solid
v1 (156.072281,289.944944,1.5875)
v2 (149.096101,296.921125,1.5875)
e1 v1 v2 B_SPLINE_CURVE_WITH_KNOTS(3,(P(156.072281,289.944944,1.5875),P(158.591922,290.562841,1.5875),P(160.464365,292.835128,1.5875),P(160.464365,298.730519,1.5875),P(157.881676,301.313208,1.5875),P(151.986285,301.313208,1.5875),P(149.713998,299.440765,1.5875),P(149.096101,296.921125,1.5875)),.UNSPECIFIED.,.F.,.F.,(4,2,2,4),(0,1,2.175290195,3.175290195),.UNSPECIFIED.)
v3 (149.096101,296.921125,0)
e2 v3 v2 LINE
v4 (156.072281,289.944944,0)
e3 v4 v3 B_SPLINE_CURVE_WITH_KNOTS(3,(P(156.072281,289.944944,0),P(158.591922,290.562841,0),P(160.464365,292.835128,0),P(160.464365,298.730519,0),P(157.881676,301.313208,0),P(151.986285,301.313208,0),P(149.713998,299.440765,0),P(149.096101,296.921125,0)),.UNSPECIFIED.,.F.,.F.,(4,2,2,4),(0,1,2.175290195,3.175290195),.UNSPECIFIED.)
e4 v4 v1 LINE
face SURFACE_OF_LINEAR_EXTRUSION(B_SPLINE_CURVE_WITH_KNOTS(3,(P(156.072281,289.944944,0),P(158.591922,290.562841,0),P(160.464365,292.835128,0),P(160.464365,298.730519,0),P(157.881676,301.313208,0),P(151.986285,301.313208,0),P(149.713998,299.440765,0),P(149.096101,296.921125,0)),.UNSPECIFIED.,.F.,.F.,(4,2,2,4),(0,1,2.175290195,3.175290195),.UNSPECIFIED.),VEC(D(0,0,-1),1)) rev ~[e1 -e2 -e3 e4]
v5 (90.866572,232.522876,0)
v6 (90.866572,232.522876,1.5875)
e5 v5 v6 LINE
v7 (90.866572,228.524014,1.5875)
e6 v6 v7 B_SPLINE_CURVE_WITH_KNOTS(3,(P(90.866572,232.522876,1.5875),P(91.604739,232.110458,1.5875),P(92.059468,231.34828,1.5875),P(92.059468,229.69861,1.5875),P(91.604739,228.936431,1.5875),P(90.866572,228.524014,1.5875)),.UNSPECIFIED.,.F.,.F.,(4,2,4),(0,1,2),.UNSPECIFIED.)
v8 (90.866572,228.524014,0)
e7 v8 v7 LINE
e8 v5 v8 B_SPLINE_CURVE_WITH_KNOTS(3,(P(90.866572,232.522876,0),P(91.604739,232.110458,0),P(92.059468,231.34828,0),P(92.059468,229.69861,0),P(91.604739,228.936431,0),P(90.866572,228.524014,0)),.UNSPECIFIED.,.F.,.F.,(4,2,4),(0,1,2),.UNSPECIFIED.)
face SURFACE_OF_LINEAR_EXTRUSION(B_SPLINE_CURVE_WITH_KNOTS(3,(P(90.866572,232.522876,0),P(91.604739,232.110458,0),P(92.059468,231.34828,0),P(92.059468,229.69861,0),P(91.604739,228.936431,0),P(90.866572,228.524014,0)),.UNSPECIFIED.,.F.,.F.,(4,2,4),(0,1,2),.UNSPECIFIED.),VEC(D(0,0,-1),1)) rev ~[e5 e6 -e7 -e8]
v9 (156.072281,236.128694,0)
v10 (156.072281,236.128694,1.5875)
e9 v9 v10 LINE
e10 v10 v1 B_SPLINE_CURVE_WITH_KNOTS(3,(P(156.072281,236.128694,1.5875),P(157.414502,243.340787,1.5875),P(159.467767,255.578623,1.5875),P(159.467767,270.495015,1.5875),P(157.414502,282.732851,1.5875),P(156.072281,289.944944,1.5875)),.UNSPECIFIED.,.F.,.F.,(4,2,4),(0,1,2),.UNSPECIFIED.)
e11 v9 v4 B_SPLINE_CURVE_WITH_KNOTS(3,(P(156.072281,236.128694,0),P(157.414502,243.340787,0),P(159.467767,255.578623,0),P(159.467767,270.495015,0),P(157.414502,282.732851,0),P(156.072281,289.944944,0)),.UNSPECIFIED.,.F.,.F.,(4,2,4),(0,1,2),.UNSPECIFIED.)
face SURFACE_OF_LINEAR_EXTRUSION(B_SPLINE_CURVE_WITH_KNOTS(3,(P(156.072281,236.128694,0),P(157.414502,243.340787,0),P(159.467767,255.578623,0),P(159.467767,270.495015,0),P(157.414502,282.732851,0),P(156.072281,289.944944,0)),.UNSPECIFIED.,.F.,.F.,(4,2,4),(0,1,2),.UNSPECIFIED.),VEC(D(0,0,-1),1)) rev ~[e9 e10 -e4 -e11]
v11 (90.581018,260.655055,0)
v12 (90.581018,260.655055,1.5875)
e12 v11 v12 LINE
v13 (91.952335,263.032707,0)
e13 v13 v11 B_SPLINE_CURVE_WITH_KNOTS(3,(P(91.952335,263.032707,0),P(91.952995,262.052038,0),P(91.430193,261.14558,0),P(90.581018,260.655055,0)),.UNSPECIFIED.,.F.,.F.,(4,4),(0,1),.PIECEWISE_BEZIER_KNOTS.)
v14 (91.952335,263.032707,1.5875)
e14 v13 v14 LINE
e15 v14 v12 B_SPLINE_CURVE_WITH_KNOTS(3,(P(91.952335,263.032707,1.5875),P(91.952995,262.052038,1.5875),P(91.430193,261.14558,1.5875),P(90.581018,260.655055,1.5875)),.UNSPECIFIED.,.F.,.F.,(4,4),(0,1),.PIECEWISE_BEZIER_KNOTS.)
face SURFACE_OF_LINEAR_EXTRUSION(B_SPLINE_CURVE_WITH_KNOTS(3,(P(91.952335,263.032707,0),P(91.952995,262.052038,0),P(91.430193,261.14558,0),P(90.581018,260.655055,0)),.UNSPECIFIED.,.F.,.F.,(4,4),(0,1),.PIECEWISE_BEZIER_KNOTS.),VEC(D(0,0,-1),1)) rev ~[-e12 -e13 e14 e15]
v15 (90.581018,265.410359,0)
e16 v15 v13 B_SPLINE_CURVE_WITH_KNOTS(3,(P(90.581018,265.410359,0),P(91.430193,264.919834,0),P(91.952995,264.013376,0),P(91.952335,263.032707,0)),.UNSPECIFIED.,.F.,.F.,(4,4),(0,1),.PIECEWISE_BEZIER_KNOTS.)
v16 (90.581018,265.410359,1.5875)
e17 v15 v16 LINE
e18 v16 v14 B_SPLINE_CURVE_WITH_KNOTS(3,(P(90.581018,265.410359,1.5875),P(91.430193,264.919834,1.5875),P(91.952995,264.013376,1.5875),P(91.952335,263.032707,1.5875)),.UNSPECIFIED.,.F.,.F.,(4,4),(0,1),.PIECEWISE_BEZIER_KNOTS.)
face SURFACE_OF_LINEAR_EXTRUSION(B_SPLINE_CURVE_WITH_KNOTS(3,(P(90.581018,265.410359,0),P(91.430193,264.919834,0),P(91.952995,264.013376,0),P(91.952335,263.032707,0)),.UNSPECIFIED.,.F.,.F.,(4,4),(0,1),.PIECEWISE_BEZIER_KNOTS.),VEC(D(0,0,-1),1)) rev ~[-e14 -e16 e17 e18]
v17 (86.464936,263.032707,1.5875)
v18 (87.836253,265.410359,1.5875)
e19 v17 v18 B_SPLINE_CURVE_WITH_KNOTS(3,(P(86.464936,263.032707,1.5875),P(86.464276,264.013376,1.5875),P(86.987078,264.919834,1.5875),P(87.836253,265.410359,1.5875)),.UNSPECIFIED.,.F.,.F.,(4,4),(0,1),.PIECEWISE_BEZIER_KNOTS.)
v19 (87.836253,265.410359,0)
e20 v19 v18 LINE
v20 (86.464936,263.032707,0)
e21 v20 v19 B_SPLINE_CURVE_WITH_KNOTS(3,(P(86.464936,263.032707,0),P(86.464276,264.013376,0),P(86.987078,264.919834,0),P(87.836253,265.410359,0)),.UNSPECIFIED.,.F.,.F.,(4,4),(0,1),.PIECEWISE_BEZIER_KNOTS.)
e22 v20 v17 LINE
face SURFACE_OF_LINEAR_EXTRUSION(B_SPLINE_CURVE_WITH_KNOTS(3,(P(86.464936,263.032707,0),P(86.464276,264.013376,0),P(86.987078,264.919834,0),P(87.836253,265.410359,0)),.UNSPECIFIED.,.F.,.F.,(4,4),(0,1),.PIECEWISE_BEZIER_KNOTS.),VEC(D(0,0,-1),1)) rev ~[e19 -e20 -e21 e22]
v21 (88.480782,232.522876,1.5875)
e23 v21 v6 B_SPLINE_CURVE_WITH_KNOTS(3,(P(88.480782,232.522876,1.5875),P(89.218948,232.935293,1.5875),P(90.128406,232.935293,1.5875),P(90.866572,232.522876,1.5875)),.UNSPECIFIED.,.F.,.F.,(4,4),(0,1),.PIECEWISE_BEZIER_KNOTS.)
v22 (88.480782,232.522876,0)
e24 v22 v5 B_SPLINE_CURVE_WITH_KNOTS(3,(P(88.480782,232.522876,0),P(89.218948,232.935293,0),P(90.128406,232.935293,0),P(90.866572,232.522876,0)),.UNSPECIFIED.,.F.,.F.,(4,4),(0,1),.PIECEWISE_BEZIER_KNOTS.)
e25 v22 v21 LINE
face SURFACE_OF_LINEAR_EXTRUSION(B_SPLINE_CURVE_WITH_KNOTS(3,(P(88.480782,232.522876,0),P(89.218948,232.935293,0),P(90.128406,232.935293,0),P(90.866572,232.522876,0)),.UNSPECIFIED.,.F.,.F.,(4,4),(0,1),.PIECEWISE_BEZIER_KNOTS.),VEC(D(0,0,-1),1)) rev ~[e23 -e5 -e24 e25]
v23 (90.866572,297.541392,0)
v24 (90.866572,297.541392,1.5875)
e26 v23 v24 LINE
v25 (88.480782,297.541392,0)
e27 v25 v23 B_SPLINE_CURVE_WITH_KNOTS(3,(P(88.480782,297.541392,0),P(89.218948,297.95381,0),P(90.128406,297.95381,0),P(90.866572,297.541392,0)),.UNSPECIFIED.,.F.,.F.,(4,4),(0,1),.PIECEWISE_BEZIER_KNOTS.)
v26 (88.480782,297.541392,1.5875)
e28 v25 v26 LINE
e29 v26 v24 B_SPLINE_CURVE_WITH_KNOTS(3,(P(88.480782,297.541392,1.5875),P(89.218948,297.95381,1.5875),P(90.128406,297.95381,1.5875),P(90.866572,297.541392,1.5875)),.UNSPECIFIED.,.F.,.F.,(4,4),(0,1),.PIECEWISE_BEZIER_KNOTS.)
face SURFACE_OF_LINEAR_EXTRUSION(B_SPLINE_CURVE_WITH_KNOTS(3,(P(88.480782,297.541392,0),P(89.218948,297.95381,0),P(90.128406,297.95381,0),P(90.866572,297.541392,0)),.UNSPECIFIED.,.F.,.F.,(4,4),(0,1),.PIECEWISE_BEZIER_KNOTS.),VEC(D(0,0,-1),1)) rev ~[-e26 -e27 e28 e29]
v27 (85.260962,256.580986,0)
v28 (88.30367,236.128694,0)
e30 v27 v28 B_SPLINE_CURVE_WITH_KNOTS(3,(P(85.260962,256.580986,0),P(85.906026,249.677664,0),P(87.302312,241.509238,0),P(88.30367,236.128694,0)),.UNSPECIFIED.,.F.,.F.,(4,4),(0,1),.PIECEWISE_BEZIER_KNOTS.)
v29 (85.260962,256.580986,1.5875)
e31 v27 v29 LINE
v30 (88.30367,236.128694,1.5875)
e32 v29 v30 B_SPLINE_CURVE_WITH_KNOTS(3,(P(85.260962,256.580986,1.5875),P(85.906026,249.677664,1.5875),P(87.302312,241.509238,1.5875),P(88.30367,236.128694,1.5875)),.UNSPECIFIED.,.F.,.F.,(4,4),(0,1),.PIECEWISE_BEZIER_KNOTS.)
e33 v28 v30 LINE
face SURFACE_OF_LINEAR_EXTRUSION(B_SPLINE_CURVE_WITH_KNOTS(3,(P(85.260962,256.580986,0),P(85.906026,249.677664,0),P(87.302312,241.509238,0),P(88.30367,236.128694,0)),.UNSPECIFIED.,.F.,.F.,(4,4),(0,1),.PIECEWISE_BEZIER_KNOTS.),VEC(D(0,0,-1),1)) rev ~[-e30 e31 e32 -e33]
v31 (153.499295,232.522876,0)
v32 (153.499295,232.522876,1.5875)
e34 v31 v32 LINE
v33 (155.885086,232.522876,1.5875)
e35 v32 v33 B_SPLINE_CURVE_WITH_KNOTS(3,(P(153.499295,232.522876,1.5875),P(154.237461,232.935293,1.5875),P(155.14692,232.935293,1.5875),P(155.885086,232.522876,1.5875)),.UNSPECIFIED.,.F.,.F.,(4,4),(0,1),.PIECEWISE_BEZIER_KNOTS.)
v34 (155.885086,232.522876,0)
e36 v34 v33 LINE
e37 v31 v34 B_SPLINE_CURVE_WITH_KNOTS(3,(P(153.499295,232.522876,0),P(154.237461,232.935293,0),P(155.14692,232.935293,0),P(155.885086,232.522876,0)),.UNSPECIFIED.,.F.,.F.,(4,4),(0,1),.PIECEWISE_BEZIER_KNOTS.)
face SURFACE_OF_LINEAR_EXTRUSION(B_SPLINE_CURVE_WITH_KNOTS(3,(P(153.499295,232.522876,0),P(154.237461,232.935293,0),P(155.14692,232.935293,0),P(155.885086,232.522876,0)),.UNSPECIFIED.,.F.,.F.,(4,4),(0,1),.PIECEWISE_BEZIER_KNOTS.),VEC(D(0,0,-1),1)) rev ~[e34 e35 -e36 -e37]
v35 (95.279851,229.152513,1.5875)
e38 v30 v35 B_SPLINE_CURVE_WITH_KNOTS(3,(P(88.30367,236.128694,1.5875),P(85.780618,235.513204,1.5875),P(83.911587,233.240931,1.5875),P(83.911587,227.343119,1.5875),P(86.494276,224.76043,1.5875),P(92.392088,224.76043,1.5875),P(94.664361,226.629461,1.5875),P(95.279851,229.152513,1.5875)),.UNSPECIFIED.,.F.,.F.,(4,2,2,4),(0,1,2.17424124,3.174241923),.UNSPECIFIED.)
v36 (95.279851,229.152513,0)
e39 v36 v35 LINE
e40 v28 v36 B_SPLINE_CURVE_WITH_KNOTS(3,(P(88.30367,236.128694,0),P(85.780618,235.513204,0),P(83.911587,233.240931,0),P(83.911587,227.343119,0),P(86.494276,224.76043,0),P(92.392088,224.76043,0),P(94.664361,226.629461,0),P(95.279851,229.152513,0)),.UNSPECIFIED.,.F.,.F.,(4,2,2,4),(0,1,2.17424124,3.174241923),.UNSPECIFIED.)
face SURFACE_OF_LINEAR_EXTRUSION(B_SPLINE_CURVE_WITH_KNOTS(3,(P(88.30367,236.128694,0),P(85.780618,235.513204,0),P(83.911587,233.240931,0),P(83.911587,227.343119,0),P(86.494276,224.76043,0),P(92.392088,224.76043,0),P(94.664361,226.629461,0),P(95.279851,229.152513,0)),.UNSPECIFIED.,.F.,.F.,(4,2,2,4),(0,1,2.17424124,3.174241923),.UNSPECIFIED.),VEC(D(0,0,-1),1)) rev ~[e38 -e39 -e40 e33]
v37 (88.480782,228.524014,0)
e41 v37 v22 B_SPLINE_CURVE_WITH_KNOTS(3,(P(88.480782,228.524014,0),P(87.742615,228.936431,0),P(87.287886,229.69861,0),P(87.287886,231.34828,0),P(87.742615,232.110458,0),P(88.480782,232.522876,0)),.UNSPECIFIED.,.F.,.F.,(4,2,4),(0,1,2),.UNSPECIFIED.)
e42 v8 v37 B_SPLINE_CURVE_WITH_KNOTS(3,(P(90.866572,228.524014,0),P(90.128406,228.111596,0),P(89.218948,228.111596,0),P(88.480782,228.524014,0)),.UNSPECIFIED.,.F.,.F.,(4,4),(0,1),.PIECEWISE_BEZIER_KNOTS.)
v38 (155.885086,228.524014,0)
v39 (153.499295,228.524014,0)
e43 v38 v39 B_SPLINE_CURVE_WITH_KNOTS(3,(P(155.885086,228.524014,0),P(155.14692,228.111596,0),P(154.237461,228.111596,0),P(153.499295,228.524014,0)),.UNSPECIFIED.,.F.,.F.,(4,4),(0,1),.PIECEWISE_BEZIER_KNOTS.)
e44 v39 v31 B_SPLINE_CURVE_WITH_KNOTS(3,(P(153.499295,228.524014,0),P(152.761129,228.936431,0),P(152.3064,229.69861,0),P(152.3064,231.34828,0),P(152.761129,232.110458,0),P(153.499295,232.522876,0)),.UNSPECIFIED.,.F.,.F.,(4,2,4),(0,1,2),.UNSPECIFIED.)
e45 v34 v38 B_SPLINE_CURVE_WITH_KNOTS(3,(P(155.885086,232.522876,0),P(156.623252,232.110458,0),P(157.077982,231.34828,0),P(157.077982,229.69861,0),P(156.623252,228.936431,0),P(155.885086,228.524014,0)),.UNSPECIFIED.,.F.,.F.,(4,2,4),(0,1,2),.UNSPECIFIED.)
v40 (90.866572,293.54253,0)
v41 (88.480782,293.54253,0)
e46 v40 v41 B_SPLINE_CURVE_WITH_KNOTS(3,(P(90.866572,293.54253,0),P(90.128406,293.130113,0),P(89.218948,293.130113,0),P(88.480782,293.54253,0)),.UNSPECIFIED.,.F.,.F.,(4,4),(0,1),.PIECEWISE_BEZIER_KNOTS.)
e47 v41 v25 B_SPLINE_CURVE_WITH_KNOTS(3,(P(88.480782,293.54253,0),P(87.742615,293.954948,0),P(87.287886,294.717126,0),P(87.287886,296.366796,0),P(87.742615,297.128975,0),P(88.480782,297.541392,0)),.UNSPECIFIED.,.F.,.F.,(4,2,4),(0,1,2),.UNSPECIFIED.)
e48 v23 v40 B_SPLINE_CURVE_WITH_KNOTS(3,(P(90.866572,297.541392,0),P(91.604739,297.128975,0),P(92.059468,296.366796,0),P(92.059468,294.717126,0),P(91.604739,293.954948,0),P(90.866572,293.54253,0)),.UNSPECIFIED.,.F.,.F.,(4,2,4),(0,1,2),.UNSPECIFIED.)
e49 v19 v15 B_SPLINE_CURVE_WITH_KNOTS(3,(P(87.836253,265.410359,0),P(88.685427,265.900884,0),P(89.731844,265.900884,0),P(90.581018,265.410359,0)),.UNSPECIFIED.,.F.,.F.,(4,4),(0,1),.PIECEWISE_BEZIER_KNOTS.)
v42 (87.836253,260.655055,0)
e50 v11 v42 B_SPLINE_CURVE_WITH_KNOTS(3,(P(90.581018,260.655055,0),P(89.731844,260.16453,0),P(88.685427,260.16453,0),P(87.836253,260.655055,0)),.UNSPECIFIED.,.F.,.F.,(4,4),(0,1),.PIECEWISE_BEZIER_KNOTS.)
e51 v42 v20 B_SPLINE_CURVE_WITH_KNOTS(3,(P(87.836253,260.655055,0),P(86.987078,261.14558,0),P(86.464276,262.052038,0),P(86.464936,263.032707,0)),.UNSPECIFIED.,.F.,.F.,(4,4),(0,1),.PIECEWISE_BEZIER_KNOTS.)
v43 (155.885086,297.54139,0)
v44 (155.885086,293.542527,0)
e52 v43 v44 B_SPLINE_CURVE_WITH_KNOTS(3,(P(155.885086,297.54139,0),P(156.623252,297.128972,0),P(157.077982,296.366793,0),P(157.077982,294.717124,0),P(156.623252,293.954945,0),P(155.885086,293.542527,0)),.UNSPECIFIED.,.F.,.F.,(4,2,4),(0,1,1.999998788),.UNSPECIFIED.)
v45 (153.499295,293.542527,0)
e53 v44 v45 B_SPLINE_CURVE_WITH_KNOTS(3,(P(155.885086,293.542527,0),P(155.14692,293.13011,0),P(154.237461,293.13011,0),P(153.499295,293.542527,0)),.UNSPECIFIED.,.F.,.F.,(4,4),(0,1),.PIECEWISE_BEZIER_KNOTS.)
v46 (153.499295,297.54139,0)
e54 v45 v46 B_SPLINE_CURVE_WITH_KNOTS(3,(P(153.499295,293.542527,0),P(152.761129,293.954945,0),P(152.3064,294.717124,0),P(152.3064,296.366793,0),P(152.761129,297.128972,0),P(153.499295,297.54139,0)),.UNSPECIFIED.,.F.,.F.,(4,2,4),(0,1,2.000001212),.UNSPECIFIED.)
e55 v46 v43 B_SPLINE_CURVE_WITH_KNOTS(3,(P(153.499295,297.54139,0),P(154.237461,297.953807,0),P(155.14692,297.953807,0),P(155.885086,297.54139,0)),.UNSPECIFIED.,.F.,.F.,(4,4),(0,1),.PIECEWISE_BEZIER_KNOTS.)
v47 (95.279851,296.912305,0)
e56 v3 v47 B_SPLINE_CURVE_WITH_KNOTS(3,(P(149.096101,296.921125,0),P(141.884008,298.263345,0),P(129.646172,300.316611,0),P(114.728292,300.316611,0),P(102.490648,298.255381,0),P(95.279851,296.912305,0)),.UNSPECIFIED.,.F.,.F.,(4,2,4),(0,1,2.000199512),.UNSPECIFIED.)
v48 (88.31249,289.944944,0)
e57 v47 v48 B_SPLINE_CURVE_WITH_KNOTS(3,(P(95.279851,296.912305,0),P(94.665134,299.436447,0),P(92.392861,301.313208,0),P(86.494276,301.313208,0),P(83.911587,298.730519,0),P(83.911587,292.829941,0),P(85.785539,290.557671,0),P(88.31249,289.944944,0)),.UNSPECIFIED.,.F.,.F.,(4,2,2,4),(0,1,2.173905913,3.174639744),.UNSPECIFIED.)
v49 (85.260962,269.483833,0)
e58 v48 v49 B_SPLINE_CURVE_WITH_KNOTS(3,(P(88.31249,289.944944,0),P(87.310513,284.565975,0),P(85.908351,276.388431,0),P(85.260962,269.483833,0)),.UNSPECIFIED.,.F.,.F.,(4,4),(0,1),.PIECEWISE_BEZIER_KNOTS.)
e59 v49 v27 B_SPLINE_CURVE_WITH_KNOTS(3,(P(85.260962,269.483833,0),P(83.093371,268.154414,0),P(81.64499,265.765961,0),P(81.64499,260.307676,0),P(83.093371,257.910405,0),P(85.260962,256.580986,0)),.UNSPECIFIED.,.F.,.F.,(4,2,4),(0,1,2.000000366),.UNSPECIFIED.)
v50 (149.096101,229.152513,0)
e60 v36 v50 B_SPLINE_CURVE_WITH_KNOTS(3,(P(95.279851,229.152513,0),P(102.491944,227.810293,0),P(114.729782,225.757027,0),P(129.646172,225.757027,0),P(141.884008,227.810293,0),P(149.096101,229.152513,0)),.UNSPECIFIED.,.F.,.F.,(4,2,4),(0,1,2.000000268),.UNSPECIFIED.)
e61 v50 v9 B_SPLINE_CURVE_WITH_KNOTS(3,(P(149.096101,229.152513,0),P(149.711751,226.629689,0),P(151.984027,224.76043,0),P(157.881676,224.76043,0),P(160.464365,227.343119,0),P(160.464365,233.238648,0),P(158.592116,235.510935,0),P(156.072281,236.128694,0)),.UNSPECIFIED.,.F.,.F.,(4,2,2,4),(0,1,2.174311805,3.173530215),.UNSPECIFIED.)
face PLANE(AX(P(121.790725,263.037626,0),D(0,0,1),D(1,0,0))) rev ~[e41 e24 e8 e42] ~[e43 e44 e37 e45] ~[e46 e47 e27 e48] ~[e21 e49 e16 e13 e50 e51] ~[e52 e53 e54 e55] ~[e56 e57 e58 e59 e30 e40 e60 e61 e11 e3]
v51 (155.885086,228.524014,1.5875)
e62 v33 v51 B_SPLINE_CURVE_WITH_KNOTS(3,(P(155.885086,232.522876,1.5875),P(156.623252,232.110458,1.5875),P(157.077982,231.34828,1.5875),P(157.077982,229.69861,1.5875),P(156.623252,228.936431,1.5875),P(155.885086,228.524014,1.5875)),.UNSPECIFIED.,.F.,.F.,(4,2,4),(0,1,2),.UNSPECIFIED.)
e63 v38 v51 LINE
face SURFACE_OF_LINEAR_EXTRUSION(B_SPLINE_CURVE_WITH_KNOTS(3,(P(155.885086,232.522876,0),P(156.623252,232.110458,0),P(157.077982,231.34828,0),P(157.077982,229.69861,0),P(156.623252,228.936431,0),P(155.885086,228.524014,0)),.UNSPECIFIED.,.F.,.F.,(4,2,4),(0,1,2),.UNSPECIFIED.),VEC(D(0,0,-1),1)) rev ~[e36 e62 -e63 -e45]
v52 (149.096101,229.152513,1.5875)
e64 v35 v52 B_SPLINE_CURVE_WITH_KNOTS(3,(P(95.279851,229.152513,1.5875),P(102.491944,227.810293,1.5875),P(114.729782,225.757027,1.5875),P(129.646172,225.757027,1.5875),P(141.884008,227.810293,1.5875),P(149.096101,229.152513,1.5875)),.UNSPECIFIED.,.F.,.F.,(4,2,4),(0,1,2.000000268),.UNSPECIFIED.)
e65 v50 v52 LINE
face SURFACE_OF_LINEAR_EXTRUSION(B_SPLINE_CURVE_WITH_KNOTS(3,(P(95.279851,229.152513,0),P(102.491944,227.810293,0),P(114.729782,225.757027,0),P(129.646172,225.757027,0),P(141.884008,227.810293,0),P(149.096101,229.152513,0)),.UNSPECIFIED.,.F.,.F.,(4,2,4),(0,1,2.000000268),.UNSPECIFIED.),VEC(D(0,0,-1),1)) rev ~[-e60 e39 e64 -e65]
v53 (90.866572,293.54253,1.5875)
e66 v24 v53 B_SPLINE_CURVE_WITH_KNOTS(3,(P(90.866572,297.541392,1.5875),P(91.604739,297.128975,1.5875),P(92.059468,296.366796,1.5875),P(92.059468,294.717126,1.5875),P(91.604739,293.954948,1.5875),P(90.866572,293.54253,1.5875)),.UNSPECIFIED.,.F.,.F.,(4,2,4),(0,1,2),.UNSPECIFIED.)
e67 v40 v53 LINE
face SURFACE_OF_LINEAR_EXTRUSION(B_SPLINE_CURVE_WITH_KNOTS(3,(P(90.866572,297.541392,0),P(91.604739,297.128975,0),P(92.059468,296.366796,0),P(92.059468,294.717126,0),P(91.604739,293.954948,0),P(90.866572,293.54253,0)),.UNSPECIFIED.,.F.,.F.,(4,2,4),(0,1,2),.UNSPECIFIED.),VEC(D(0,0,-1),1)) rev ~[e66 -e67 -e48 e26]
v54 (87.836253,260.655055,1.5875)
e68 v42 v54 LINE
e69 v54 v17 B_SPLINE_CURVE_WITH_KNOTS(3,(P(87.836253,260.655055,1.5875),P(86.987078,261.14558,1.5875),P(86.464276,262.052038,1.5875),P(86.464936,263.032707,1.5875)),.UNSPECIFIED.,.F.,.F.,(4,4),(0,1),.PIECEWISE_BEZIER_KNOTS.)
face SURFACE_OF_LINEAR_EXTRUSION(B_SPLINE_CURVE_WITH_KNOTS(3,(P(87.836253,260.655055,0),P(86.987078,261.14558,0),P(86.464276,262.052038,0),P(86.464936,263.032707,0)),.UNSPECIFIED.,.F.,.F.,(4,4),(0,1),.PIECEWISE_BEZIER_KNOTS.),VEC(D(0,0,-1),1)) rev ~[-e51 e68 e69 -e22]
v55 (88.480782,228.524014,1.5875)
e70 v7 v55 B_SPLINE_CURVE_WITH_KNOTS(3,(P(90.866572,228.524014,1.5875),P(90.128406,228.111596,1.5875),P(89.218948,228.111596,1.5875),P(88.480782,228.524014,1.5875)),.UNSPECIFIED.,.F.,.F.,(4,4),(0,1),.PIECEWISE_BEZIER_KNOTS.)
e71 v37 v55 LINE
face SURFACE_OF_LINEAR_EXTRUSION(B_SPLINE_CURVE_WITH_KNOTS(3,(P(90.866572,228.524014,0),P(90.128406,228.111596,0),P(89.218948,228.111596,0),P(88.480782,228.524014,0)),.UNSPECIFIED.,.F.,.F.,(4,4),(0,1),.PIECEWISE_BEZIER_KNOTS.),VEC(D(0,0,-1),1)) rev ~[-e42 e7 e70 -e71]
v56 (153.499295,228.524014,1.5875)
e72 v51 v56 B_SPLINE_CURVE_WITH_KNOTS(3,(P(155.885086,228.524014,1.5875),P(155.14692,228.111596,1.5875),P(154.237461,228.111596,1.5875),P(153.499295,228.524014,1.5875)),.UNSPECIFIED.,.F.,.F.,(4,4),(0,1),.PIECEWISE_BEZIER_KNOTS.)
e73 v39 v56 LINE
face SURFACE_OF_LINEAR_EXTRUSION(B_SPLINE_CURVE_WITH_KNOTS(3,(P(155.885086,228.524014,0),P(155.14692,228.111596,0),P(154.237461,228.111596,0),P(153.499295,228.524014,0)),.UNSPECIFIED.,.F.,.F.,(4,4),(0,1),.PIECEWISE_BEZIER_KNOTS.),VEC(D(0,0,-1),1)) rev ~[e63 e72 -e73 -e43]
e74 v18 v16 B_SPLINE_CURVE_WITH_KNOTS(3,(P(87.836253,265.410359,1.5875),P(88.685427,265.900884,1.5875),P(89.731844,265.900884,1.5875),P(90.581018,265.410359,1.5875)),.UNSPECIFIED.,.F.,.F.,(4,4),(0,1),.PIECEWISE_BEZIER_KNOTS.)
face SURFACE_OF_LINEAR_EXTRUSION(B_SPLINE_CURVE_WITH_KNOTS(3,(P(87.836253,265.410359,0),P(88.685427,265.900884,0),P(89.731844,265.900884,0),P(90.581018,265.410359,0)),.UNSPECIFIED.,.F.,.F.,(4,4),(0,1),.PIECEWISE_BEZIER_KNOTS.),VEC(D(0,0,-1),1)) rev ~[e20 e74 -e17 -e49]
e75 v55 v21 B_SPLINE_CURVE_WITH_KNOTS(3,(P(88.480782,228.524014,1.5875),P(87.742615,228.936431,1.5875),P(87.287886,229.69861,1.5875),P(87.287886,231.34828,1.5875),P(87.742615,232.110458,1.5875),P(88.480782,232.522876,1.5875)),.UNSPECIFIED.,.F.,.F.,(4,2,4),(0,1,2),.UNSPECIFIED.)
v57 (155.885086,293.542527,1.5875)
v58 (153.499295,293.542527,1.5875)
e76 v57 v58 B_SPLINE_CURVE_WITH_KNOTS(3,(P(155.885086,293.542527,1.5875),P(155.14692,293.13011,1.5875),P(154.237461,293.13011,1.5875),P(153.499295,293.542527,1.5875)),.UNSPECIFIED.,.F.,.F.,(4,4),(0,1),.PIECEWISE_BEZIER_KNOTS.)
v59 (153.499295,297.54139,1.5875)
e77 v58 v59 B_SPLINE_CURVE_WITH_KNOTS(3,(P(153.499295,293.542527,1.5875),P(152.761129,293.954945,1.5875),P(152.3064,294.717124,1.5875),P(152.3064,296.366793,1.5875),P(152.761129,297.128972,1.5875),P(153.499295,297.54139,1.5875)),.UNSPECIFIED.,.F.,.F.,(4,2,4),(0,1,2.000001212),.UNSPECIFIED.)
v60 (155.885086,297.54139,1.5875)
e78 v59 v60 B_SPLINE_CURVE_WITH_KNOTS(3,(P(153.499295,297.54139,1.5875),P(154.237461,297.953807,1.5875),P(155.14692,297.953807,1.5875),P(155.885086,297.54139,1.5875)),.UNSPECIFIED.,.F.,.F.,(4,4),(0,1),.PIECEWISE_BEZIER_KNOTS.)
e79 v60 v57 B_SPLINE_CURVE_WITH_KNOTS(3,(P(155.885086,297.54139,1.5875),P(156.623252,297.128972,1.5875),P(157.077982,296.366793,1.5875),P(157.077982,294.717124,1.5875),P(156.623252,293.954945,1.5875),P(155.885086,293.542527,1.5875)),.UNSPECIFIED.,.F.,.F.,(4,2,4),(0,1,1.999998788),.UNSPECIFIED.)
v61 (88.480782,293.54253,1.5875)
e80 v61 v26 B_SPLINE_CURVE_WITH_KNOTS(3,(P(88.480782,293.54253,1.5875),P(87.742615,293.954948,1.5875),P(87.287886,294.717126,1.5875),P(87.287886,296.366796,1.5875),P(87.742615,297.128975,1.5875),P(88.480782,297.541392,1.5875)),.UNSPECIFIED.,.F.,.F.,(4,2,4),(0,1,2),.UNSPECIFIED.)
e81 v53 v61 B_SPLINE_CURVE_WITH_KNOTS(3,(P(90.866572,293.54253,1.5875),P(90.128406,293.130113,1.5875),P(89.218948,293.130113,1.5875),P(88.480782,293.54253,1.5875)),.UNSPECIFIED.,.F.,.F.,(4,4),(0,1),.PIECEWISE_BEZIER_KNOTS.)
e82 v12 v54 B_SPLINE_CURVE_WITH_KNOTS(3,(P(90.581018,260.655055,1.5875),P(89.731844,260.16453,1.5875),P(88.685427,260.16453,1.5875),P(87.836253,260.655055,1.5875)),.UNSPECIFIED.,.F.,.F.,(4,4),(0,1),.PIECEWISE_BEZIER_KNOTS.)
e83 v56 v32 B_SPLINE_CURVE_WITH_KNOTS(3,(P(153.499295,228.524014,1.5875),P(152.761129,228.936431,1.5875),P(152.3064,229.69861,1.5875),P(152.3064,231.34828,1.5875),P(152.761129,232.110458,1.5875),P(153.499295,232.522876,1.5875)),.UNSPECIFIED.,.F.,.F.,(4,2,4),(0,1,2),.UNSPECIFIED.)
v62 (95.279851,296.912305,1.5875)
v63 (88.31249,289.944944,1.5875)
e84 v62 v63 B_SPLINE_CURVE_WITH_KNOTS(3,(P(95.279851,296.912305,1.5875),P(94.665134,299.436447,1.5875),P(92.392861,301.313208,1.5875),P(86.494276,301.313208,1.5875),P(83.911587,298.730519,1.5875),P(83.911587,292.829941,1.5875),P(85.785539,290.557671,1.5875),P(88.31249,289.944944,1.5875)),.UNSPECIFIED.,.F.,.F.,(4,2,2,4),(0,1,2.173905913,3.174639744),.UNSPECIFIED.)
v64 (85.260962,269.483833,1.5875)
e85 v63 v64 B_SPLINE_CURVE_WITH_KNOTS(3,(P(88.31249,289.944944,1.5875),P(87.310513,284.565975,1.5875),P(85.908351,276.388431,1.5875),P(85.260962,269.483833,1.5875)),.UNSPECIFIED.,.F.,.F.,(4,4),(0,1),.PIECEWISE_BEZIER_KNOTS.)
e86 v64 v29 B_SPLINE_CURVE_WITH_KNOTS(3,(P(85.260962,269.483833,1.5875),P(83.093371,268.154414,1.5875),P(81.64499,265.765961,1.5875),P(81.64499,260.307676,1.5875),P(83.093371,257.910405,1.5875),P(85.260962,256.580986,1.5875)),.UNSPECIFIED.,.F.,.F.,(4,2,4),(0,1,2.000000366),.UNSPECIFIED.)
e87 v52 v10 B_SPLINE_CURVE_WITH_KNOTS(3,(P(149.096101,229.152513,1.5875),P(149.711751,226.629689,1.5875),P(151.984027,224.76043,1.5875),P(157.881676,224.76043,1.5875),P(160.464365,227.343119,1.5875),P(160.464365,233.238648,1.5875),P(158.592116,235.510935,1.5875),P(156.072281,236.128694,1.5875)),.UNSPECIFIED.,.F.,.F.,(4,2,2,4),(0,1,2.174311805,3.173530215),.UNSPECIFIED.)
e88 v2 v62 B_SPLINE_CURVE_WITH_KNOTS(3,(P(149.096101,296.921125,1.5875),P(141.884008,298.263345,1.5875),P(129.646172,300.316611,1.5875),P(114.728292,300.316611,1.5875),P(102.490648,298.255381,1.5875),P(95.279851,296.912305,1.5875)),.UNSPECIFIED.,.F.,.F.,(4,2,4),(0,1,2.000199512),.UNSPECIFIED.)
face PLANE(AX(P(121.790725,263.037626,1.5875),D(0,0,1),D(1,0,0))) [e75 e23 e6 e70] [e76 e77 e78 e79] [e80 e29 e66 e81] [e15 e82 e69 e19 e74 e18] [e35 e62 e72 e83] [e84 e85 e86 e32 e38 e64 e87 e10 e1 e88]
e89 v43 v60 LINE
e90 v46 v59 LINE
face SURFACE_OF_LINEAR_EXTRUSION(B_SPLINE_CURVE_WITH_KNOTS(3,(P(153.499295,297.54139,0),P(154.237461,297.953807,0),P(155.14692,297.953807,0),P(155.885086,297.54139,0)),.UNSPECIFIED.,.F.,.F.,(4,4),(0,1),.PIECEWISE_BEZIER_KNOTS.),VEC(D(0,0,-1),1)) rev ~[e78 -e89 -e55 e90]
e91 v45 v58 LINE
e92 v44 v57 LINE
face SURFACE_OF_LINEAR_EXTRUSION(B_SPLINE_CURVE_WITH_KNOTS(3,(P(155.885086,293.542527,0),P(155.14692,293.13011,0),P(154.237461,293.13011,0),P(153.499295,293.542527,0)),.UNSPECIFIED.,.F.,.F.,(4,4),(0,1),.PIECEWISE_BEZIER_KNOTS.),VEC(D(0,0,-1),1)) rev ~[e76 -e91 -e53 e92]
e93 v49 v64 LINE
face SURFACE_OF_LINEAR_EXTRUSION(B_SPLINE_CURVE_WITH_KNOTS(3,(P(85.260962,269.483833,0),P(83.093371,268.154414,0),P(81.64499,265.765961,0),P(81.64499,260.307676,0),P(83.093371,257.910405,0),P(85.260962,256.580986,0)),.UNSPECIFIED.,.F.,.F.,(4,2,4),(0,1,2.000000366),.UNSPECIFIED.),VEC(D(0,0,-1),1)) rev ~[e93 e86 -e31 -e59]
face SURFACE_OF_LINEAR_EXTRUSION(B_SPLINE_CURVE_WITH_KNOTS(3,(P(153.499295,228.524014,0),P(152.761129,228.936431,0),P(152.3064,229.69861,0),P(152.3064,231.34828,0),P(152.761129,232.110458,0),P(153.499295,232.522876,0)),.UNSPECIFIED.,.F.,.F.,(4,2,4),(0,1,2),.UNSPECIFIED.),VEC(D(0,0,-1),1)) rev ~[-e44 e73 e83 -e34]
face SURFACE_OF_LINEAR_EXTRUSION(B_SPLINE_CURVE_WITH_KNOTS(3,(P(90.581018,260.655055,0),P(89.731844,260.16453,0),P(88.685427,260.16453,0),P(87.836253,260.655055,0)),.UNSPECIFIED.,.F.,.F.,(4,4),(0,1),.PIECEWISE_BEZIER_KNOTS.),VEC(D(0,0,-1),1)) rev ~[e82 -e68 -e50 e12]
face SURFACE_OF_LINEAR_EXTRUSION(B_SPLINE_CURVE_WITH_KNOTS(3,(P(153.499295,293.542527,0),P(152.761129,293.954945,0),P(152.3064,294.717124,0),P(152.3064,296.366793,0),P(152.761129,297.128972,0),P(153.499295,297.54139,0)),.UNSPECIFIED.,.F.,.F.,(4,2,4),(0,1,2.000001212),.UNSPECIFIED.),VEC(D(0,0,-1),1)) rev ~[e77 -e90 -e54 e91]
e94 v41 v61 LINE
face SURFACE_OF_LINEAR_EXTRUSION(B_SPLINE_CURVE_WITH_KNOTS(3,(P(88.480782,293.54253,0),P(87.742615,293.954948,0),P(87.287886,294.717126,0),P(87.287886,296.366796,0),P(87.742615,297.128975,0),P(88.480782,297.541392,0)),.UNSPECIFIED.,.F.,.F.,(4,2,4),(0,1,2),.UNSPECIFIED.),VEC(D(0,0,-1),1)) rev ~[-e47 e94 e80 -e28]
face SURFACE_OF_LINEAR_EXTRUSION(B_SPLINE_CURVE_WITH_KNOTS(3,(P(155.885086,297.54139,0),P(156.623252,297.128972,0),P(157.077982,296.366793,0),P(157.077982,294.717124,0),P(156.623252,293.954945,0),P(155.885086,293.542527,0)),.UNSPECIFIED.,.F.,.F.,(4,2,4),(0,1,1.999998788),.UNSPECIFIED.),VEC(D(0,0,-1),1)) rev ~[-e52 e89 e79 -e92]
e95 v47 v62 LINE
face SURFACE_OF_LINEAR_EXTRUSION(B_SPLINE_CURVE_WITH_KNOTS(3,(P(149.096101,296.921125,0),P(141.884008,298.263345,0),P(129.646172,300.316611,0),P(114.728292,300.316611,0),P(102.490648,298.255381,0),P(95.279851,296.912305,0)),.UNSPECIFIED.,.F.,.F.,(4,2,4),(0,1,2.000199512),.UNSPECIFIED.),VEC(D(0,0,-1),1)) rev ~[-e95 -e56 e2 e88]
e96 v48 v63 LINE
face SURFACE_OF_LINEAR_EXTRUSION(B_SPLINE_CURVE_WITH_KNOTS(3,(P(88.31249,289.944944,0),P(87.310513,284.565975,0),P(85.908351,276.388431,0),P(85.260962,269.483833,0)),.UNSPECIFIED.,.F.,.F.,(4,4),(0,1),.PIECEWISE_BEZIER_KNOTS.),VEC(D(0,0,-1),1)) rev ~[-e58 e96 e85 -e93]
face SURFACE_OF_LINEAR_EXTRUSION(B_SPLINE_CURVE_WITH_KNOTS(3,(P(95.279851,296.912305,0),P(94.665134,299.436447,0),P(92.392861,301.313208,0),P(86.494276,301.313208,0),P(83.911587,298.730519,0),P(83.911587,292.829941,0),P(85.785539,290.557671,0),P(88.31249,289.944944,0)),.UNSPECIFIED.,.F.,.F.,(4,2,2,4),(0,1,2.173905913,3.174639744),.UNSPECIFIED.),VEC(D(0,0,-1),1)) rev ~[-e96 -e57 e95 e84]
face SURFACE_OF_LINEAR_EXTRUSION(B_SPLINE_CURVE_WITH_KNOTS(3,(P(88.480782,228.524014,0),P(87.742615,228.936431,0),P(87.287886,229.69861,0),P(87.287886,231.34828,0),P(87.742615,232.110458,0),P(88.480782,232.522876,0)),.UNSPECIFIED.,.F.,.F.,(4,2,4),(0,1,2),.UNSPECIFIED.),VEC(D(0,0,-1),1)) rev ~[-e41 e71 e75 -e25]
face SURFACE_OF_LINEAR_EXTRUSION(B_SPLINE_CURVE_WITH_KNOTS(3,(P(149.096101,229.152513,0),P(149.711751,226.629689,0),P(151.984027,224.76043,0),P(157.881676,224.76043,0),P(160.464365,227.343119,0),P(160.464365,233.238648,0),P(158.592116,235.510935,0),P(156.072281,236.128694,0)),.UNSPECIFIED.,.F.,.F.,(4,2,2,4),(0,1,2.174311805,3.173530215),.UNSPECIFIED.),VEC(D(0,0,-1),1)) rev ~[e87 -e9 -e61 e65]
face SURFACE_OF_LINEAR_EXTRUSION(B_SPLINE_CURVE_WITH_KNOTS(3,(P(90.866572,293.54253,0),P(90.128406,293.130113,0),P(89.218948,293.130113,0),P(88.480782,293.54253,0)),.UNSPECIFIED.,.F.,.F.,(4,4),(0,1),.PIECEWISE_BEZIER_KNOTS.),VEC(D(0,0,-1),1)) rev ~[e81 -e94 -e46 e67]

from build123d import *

# Parameters (mm, degrees)
BOSS_EXTRUDE1_DEPTH = 1.5875


with BuildPart() as part:
    # Model → Boss-Extrude1 (new body)
    with BuildSketch(Plane.XY):
        with BuildLine():
            add(Edge.make_bspline(
                [(89.679503, 301.313208), (86.494276, 301.313208), (83.911587, 298.730519), (83.911587, 295.545291)],
                knots=[0, 0, 0, 0, 1, 1, 1, 1], degree=3))
            add(Edge.make_bspline(
                [(83.911587, 295.545291), (83.911587, 292.829941), (85.785539, 290.557671), (88.31249, 289.944944)],
                knots=[0, 0, 0, 0, 1, 1, 1, 1], degree=3))
            add(Edge.make_bspline(
                [(88.31249, 289.944944), (87.310513, 284.565975), (85.908351, 276.388431), (85.260962, 269.483833)],
                knots=[0, 0, 0, 0, 1, 1, 1, 1], degree=3))
            add(Edge.make_bspline(
                [(85.260962, 269.483833), (83.093371, 268.154414), (81.64499, 265.765961), (81.64499, 263.036819)],
                knots=[0, 0, 0, 0, 1, 1, 1, 1], degree=3))
            add(Edge.make_bspline(
                [(81.64499, 263.036819), (81.64499, 260.307676), (83.093371, 257.910405), (85.260962, 256.580986)],
                knots=[0, 0, 0, 0, 1, 1, 1, 1], degree=3))
            add(Edge.make_bspline(
                [(85.260962, 256.580986), (85.906026, 249.677664), (87.302312, 241.509238), (88.30367, 236.128694)],
                knots=[0, 0, 0, 0, 1, 1, 1, 1], degree=3))
            add(Edge.make_bspline(
                [(88.30367, 236.128694), (85.780618, 235.513204), (83.911587, 233.240931), (83.911587, 230.528347)],
                knots=[0, 0, 0, 0, 1, 1, 1, 1], degree=3))
            add(Edge.make_bspline(
                [(83.911587, 230.528347), (83.911587, 227.343119), (86.494276, 224.76043), (89.679503, 224.76043)],
                knots=[0, 0, 0, 0, 1, 1, 1, 1], degree=3))
            add(Edge.make_bspline(
                [(89.679503, 224.76043), (92.392088, 224.76043), (94.664361, 226.629461), (95.279851, 229.152513)],
                knots=[0, 0, 0, 0, 1, 1, 1, 1], degree=3))
            add(Edge.make_bspline(
                [(95.279851, 229.152513), (102.491944, 227.810293), (114.729782, 225.757027), (122.187976, 225.757027)],
                knots=[0, 0, 0, 0, 1, 1, 1, 1], degree=3))
            add(Edge.make_bspline(
                [(122.187976, 225.757027), (129.646172, 225.757027), (141.884008, 227.810293), (149.096101, 229.152513)],
                knots=[0, 0, 0, 0, 1, 1, 1, 1], degree=3))
            add(Edge.make_bspline(
                [(149.096101, 229.152513), (149.711751, 226.629689), (151.984027, 224.76043), (154.696448, 224.76043)],
                knots=[0, 0, 0, 0, 1, 1, 1, 1], degree=3))
            add(Edge.make_bspline(
                [(154.696448, 224.76043), (157.881676, 224.76043), (160.464365, 227.343119), (160.464365, 230.528347)],
                knots=[0, 0, 0, 0, 1, 1, 1, 1], degree=3))
            add(Edge.make_bspline(
                [(160.464365, 230.528347), (160.464365, 233.238648), (158.592116, 235.510935), (156.072281, 236.128694)],
                knots=[0, 0, 0, 0, 1, 1, 1, 1], degree=3))
            add(Edge.make_bspline(
                [(156.072281, 236.128694), (157.414502, 243.340787), (159.467767, 255.578623), (159.467767, 263.036819)],
                knots=[0, 0, 0, 0, 1, 1, 1, 1], degree=3))
            add(Edge.make_bspline(
                [(159.467767, 263.036819), (159.467767, 270.495015), (157.414502, 282.732851), (156.072281, 289.944944)],
                knots=[0, 0, 0, 0, 1, 1, 1, 1], degree=3))
            add(Edge.make_bspline(
                [(156.072281, 289.944944), (158.591922, 290.562841), (160.464365, 292.835128), (160.464365, 295.545291)],
                knots=[0, 0, 0, 0, 1, 1, 1, 1], degree=3))
            add(Edge.make_bspline(
                [(160.464365, 295.545291), (160.464365, 298.730519), (157.881676, 301.313208), (154.696448, 301.313208)],
                knots=[0, 0, 0, 0, 1, 1, 1, 1], degree=3))
            add(Edge.make_bspline(
                [(154.696448, 301.313208), (151.986285, 301.313208), (149.713998, 299.440765), (149.096101, 296.921125)],
                knots=[0, 0, 0, 0, 1, 1, 1, 1], degree=3))
            add(Edge.make_bspline(
                [(149.096101, 296.921125), (141.884008, 298.263345), (129.646172, 300.316611), (122.187976, 300.316611)],
                knots=[0, 0, 0, 0, 1, 1, 1, 1], degree=3))
            add(Edge.make_bspline(
                [(122.187976, 300.316611), (114.728292, 300.316611), (102.490648, 298.255381), (95.279851, 296.912305)],
                knots=[0, 0, 0, 0, 1, 1, 1, 1], degree=3))
            add(Edge.make_bspline(
                [(95.279851, 296.912305), (94.665134, 299.436447), (92.392861, 301.313208), (89.679503, 301.313208)],
                knots=[0, 0, 0, 0, 1, 1, 1, 1], degree=3))
        make_face()
        with BuildLine():
            add(Edge.make_bspline(
                [(92.059468, 295.541961), (92.059468, 294.717126), (91.604739, 293.954948), (90.866572, 293.54253)],
                knots=[0, 0, 0, 0, 1, 1, 1, 1], degree=3))
            add(Edge.make_bspline(
                [(90.866572, 293.54253), (90.128406, 293.130113), (89.218948, 293.130113), (88.480782, 293.54253)],
                knots=[0, 0, 0, 0, 1, 1, 1, 1], degree=3))
            add(Edge.make_bspline(
                [(88.480782, 293.54253), (87.742615, 293.954948), (87.287886, 294.717126), (87.287886, 295.541961)],
                knots=[0, 0, 0, 0, 1, 1, 1, 1], degree=3))
            add(Edge.make_bspline(
                [(87.287886, 295.541961), (87.287886, 296.366796), (87.742615, 297.128975), (88.480782, 297.541392)],
                knots=[0, 0, 0, 0, 1, 1, 1, 1], degree=3))
            add(Edge.make_bspline(
                [(88.480782, 297.541392), (89.218948, 297.95381), (90.128406, 297.95381), (90.866572, 297.541392)],
                knots=[0, 0, 0, 0, 1, 1, 1, 1], degree=3))
            add(Edge.make_bspline(
                [(90.866572, 297.541392), (91.604739, 297.128975), (92.059468, 296.366796), (92.059468, 295.541961)],
                knots=[0, 0, 0, 0, 1, 1, 1, 1], degree=3))
        make_face(mode=Mode.SUBTRACT)
        with BuildLine():
            add(Edge.make_bspline(
                [(157.077982, 230.523445), (157.077982, 229.69861), (156.623252, 228.936431), (155.885086, 228.524014)],
                knots=[0, 0, 0, 0, 1, 1, 1, 1], degree=3))
            add(Edge.make_bspline(
                [(155.885086, 228.524014), (155.14692, 228.111596), (154.237461, 228.111596), (153.499295, 228.524014)],
                knots=[0, 0, 0, 0, 1, 1, 1, 1], degree=3))
            add(Edge.make_bspline(
                [(153.499295, 228.524014), (152.761129, 228.936431), (152.3064, 229.69861), (152.3064, 230.523445)],
                knots=[0, 0, 0, 0, 1, 1, 1, 1], degree=3))
            add(Edge.make_bspline(
                [(152.3064, 230.523445), (152.3064, 231.34828), (152.761129, 232.110458), (153.499295, 232.522876)],
                knots=[0, 0, 0, 0, 1, 1, 1, 1], degree=3))
            add(Edge.make_bspline(
                [(153.499295, 232.522876), (154.237461, 232.935293), (155.14692, 232.935293), (155.885086, 232.522876)],
                knots=[0, 0, 0, 0, 1, 1, 1, 1], degree=3))
            add(Edge.make_bspline(
                [(155.885086, 232.522876), (156.623252, 232.110458), (157.077982, 231.34828), (157.077982, 230.523445)],
                knots=[0, 0, 0, 0, 1, 1, 1, 1], degree=3))
        make_face(mode=Mode.SUBTRACT)
        with BuildLine():
            add(Edge.make_bspline(
                [(92.059468, 230.523445), (92.059468, 229.69861), (91.604739, 228.936431), (90.866572, 228.524014)],
                knots=[0, 0, 0, 0, 1, 1, 1, 1], degree=3))
            add(Edge.make_bspline(
                [(90.866572, 228.524014), (90.128406, 228.111596), (89.218948, 228.111596), (88.480782, 228.524014)],
                knots=[0, 0, 0, 0, 1, 1, 1, 1], degree=3))
            add(Edge.make_bspline(
                [(88.480782, 228.524014), (87.742615, 228.936431), (87.287886, 229.69861), (87.287886, 230.523445)],
                knots=[0, 0, 0, 0, 1, 1, 1, 1], degree=3))
            add(Edge.make_bspline(
                [(87.287886, 230.523445), (87.287886, 231.34828), (87.742615, 232.110458), (88.480782, 232.522876)],
                knots=[0, 0, 0, 0, 1, 1, 1, 1], degree=3))
            add(Edge.make_bspline(
                [(88.480782, 232.522876), (89.218948, 232.935293), (90.128406, 232.935293), (90.866572, 232.522876)],
                knots=[0, 0, 0, 0, 1, 1, 1, 1], degree=3))
            add(Edge.make_bspline(
                [(90.866572, 232.522876), (91.604739, 232.110458), (92.059468, 231.34828), (92.059468, 230.523445)],
                knots=[0, 0, 0, 0, 1, 1, 1, 1], degree=3))
        make_face(mode=Mode.SUBTRACT)
        with BuildLine():
            add(Edge.make_bspline(
                [(157.077982, 295.541958), (157.077982, 294.717124), (156.623252, 293.954945), (155.885086, 293.542527)],
                knots=[0, 0, 0, 0, 1, 1, 1, 1], degree=3))
            add(Edge.make_bspline(
                [(155.885086, 293.542527), (155.14692, 293.13011), (154.237461, 293.13011), (153.499295, 293.542527)],
                knots=[0, 0, 0, 0, 1, 1, 1, 1], degree=3))
            add(Edge.make_bspline(
                [(153.499295, 293.542527), (152.761129, 293.954945), (152.3064, 294.717124), (152.3064, 295.541958)],
                knots=[0, 0, 0, 0, 1, 1, 1, 1], degree=3))
            add(Edge.make_bspline(
                [(152.3064, 295.541958), (152.3064, 296.366793), (152.761129, 297.128972), (153.499295, 297.54139)],
                knots=[0, 0, 0, 0, 1, 1, 1, 1], degree=3))
            add(Edge.make_bspline(
                [(153.499295, 297.54139), (154.237461, 297.953807), (155.14692, 297.953807), (155.885086, 297.54139)],
                knots=[0, 0, 0, 0, 1, 1, 1, 1], degree=3))
            add(Edge.make_bspline(
                [(155.885086, 297.54139), (156.623252, 297.128972), (157.077982, 296.366793), (157.077982, 295.541958)],
                knots=[0, 0, 0, 0, 1, 1, 1, 1], degree=3))
        make_face(mode=Mode.SUBTRACT)
        with BuildLine():
            add(Edge.make_bspline(
                [(91.952335, 263.032707), (91.952995, 262.052038), (91.430193, 261.14558), (90.581018, 260.655055)],
                knots=[0, 0, 0, 0, 1, 1, 1, 1], degree=3))
            add(Edge.make_bspline(
                [(90.581018, 260.655055), (89.731844, 260.16453), (88.685427, 260.16453), (87.836253, 260.655055)],
                knots=[0, 0, 0, 0, 1, 1, 1, 1], degree=3))
            add(Edge.make_bspline(
                [(87.836253, 260.655055), (86.987078, 261.14558), (86.464276, 262.052038), (86.464936, 263.032707)],
                knots=[0, 0, 0, 0, 1, 1, 1, 1], degree=3))
            add(Edge.make_bspline(
                [(86.464936, 263.032707), (86.464276, 264.013376), (86.987078, 264.919834), (87.836253, 265.410359)],
                knots=[0, 0, 0, 0, 1, 1, 1, 1], degree=3))
            add(Edge.make_bspline(
                [(87.836253, 265.410359), (88.685427, 265.900884), (89.731844, 265.900884), (90.581018, 265.410359)],
                knots=[0, 0, 0, 0, 1, 1, 1, 1], degree=3))
            add(Edge.make_bspline(
                [(90.581018, 265.410359), (91.430193, 264.919834), (91.952995, 264.013376), (91.952335, 263.032707)],
                knots=[0, 0, 0, 0, 1, 1, 1, 1], degree=3))
        make_face(mode=Mode.SUBTRACT)
    extrude(amount=BOSS_EXTRUDE1_DEPTH)


solid = part.part
